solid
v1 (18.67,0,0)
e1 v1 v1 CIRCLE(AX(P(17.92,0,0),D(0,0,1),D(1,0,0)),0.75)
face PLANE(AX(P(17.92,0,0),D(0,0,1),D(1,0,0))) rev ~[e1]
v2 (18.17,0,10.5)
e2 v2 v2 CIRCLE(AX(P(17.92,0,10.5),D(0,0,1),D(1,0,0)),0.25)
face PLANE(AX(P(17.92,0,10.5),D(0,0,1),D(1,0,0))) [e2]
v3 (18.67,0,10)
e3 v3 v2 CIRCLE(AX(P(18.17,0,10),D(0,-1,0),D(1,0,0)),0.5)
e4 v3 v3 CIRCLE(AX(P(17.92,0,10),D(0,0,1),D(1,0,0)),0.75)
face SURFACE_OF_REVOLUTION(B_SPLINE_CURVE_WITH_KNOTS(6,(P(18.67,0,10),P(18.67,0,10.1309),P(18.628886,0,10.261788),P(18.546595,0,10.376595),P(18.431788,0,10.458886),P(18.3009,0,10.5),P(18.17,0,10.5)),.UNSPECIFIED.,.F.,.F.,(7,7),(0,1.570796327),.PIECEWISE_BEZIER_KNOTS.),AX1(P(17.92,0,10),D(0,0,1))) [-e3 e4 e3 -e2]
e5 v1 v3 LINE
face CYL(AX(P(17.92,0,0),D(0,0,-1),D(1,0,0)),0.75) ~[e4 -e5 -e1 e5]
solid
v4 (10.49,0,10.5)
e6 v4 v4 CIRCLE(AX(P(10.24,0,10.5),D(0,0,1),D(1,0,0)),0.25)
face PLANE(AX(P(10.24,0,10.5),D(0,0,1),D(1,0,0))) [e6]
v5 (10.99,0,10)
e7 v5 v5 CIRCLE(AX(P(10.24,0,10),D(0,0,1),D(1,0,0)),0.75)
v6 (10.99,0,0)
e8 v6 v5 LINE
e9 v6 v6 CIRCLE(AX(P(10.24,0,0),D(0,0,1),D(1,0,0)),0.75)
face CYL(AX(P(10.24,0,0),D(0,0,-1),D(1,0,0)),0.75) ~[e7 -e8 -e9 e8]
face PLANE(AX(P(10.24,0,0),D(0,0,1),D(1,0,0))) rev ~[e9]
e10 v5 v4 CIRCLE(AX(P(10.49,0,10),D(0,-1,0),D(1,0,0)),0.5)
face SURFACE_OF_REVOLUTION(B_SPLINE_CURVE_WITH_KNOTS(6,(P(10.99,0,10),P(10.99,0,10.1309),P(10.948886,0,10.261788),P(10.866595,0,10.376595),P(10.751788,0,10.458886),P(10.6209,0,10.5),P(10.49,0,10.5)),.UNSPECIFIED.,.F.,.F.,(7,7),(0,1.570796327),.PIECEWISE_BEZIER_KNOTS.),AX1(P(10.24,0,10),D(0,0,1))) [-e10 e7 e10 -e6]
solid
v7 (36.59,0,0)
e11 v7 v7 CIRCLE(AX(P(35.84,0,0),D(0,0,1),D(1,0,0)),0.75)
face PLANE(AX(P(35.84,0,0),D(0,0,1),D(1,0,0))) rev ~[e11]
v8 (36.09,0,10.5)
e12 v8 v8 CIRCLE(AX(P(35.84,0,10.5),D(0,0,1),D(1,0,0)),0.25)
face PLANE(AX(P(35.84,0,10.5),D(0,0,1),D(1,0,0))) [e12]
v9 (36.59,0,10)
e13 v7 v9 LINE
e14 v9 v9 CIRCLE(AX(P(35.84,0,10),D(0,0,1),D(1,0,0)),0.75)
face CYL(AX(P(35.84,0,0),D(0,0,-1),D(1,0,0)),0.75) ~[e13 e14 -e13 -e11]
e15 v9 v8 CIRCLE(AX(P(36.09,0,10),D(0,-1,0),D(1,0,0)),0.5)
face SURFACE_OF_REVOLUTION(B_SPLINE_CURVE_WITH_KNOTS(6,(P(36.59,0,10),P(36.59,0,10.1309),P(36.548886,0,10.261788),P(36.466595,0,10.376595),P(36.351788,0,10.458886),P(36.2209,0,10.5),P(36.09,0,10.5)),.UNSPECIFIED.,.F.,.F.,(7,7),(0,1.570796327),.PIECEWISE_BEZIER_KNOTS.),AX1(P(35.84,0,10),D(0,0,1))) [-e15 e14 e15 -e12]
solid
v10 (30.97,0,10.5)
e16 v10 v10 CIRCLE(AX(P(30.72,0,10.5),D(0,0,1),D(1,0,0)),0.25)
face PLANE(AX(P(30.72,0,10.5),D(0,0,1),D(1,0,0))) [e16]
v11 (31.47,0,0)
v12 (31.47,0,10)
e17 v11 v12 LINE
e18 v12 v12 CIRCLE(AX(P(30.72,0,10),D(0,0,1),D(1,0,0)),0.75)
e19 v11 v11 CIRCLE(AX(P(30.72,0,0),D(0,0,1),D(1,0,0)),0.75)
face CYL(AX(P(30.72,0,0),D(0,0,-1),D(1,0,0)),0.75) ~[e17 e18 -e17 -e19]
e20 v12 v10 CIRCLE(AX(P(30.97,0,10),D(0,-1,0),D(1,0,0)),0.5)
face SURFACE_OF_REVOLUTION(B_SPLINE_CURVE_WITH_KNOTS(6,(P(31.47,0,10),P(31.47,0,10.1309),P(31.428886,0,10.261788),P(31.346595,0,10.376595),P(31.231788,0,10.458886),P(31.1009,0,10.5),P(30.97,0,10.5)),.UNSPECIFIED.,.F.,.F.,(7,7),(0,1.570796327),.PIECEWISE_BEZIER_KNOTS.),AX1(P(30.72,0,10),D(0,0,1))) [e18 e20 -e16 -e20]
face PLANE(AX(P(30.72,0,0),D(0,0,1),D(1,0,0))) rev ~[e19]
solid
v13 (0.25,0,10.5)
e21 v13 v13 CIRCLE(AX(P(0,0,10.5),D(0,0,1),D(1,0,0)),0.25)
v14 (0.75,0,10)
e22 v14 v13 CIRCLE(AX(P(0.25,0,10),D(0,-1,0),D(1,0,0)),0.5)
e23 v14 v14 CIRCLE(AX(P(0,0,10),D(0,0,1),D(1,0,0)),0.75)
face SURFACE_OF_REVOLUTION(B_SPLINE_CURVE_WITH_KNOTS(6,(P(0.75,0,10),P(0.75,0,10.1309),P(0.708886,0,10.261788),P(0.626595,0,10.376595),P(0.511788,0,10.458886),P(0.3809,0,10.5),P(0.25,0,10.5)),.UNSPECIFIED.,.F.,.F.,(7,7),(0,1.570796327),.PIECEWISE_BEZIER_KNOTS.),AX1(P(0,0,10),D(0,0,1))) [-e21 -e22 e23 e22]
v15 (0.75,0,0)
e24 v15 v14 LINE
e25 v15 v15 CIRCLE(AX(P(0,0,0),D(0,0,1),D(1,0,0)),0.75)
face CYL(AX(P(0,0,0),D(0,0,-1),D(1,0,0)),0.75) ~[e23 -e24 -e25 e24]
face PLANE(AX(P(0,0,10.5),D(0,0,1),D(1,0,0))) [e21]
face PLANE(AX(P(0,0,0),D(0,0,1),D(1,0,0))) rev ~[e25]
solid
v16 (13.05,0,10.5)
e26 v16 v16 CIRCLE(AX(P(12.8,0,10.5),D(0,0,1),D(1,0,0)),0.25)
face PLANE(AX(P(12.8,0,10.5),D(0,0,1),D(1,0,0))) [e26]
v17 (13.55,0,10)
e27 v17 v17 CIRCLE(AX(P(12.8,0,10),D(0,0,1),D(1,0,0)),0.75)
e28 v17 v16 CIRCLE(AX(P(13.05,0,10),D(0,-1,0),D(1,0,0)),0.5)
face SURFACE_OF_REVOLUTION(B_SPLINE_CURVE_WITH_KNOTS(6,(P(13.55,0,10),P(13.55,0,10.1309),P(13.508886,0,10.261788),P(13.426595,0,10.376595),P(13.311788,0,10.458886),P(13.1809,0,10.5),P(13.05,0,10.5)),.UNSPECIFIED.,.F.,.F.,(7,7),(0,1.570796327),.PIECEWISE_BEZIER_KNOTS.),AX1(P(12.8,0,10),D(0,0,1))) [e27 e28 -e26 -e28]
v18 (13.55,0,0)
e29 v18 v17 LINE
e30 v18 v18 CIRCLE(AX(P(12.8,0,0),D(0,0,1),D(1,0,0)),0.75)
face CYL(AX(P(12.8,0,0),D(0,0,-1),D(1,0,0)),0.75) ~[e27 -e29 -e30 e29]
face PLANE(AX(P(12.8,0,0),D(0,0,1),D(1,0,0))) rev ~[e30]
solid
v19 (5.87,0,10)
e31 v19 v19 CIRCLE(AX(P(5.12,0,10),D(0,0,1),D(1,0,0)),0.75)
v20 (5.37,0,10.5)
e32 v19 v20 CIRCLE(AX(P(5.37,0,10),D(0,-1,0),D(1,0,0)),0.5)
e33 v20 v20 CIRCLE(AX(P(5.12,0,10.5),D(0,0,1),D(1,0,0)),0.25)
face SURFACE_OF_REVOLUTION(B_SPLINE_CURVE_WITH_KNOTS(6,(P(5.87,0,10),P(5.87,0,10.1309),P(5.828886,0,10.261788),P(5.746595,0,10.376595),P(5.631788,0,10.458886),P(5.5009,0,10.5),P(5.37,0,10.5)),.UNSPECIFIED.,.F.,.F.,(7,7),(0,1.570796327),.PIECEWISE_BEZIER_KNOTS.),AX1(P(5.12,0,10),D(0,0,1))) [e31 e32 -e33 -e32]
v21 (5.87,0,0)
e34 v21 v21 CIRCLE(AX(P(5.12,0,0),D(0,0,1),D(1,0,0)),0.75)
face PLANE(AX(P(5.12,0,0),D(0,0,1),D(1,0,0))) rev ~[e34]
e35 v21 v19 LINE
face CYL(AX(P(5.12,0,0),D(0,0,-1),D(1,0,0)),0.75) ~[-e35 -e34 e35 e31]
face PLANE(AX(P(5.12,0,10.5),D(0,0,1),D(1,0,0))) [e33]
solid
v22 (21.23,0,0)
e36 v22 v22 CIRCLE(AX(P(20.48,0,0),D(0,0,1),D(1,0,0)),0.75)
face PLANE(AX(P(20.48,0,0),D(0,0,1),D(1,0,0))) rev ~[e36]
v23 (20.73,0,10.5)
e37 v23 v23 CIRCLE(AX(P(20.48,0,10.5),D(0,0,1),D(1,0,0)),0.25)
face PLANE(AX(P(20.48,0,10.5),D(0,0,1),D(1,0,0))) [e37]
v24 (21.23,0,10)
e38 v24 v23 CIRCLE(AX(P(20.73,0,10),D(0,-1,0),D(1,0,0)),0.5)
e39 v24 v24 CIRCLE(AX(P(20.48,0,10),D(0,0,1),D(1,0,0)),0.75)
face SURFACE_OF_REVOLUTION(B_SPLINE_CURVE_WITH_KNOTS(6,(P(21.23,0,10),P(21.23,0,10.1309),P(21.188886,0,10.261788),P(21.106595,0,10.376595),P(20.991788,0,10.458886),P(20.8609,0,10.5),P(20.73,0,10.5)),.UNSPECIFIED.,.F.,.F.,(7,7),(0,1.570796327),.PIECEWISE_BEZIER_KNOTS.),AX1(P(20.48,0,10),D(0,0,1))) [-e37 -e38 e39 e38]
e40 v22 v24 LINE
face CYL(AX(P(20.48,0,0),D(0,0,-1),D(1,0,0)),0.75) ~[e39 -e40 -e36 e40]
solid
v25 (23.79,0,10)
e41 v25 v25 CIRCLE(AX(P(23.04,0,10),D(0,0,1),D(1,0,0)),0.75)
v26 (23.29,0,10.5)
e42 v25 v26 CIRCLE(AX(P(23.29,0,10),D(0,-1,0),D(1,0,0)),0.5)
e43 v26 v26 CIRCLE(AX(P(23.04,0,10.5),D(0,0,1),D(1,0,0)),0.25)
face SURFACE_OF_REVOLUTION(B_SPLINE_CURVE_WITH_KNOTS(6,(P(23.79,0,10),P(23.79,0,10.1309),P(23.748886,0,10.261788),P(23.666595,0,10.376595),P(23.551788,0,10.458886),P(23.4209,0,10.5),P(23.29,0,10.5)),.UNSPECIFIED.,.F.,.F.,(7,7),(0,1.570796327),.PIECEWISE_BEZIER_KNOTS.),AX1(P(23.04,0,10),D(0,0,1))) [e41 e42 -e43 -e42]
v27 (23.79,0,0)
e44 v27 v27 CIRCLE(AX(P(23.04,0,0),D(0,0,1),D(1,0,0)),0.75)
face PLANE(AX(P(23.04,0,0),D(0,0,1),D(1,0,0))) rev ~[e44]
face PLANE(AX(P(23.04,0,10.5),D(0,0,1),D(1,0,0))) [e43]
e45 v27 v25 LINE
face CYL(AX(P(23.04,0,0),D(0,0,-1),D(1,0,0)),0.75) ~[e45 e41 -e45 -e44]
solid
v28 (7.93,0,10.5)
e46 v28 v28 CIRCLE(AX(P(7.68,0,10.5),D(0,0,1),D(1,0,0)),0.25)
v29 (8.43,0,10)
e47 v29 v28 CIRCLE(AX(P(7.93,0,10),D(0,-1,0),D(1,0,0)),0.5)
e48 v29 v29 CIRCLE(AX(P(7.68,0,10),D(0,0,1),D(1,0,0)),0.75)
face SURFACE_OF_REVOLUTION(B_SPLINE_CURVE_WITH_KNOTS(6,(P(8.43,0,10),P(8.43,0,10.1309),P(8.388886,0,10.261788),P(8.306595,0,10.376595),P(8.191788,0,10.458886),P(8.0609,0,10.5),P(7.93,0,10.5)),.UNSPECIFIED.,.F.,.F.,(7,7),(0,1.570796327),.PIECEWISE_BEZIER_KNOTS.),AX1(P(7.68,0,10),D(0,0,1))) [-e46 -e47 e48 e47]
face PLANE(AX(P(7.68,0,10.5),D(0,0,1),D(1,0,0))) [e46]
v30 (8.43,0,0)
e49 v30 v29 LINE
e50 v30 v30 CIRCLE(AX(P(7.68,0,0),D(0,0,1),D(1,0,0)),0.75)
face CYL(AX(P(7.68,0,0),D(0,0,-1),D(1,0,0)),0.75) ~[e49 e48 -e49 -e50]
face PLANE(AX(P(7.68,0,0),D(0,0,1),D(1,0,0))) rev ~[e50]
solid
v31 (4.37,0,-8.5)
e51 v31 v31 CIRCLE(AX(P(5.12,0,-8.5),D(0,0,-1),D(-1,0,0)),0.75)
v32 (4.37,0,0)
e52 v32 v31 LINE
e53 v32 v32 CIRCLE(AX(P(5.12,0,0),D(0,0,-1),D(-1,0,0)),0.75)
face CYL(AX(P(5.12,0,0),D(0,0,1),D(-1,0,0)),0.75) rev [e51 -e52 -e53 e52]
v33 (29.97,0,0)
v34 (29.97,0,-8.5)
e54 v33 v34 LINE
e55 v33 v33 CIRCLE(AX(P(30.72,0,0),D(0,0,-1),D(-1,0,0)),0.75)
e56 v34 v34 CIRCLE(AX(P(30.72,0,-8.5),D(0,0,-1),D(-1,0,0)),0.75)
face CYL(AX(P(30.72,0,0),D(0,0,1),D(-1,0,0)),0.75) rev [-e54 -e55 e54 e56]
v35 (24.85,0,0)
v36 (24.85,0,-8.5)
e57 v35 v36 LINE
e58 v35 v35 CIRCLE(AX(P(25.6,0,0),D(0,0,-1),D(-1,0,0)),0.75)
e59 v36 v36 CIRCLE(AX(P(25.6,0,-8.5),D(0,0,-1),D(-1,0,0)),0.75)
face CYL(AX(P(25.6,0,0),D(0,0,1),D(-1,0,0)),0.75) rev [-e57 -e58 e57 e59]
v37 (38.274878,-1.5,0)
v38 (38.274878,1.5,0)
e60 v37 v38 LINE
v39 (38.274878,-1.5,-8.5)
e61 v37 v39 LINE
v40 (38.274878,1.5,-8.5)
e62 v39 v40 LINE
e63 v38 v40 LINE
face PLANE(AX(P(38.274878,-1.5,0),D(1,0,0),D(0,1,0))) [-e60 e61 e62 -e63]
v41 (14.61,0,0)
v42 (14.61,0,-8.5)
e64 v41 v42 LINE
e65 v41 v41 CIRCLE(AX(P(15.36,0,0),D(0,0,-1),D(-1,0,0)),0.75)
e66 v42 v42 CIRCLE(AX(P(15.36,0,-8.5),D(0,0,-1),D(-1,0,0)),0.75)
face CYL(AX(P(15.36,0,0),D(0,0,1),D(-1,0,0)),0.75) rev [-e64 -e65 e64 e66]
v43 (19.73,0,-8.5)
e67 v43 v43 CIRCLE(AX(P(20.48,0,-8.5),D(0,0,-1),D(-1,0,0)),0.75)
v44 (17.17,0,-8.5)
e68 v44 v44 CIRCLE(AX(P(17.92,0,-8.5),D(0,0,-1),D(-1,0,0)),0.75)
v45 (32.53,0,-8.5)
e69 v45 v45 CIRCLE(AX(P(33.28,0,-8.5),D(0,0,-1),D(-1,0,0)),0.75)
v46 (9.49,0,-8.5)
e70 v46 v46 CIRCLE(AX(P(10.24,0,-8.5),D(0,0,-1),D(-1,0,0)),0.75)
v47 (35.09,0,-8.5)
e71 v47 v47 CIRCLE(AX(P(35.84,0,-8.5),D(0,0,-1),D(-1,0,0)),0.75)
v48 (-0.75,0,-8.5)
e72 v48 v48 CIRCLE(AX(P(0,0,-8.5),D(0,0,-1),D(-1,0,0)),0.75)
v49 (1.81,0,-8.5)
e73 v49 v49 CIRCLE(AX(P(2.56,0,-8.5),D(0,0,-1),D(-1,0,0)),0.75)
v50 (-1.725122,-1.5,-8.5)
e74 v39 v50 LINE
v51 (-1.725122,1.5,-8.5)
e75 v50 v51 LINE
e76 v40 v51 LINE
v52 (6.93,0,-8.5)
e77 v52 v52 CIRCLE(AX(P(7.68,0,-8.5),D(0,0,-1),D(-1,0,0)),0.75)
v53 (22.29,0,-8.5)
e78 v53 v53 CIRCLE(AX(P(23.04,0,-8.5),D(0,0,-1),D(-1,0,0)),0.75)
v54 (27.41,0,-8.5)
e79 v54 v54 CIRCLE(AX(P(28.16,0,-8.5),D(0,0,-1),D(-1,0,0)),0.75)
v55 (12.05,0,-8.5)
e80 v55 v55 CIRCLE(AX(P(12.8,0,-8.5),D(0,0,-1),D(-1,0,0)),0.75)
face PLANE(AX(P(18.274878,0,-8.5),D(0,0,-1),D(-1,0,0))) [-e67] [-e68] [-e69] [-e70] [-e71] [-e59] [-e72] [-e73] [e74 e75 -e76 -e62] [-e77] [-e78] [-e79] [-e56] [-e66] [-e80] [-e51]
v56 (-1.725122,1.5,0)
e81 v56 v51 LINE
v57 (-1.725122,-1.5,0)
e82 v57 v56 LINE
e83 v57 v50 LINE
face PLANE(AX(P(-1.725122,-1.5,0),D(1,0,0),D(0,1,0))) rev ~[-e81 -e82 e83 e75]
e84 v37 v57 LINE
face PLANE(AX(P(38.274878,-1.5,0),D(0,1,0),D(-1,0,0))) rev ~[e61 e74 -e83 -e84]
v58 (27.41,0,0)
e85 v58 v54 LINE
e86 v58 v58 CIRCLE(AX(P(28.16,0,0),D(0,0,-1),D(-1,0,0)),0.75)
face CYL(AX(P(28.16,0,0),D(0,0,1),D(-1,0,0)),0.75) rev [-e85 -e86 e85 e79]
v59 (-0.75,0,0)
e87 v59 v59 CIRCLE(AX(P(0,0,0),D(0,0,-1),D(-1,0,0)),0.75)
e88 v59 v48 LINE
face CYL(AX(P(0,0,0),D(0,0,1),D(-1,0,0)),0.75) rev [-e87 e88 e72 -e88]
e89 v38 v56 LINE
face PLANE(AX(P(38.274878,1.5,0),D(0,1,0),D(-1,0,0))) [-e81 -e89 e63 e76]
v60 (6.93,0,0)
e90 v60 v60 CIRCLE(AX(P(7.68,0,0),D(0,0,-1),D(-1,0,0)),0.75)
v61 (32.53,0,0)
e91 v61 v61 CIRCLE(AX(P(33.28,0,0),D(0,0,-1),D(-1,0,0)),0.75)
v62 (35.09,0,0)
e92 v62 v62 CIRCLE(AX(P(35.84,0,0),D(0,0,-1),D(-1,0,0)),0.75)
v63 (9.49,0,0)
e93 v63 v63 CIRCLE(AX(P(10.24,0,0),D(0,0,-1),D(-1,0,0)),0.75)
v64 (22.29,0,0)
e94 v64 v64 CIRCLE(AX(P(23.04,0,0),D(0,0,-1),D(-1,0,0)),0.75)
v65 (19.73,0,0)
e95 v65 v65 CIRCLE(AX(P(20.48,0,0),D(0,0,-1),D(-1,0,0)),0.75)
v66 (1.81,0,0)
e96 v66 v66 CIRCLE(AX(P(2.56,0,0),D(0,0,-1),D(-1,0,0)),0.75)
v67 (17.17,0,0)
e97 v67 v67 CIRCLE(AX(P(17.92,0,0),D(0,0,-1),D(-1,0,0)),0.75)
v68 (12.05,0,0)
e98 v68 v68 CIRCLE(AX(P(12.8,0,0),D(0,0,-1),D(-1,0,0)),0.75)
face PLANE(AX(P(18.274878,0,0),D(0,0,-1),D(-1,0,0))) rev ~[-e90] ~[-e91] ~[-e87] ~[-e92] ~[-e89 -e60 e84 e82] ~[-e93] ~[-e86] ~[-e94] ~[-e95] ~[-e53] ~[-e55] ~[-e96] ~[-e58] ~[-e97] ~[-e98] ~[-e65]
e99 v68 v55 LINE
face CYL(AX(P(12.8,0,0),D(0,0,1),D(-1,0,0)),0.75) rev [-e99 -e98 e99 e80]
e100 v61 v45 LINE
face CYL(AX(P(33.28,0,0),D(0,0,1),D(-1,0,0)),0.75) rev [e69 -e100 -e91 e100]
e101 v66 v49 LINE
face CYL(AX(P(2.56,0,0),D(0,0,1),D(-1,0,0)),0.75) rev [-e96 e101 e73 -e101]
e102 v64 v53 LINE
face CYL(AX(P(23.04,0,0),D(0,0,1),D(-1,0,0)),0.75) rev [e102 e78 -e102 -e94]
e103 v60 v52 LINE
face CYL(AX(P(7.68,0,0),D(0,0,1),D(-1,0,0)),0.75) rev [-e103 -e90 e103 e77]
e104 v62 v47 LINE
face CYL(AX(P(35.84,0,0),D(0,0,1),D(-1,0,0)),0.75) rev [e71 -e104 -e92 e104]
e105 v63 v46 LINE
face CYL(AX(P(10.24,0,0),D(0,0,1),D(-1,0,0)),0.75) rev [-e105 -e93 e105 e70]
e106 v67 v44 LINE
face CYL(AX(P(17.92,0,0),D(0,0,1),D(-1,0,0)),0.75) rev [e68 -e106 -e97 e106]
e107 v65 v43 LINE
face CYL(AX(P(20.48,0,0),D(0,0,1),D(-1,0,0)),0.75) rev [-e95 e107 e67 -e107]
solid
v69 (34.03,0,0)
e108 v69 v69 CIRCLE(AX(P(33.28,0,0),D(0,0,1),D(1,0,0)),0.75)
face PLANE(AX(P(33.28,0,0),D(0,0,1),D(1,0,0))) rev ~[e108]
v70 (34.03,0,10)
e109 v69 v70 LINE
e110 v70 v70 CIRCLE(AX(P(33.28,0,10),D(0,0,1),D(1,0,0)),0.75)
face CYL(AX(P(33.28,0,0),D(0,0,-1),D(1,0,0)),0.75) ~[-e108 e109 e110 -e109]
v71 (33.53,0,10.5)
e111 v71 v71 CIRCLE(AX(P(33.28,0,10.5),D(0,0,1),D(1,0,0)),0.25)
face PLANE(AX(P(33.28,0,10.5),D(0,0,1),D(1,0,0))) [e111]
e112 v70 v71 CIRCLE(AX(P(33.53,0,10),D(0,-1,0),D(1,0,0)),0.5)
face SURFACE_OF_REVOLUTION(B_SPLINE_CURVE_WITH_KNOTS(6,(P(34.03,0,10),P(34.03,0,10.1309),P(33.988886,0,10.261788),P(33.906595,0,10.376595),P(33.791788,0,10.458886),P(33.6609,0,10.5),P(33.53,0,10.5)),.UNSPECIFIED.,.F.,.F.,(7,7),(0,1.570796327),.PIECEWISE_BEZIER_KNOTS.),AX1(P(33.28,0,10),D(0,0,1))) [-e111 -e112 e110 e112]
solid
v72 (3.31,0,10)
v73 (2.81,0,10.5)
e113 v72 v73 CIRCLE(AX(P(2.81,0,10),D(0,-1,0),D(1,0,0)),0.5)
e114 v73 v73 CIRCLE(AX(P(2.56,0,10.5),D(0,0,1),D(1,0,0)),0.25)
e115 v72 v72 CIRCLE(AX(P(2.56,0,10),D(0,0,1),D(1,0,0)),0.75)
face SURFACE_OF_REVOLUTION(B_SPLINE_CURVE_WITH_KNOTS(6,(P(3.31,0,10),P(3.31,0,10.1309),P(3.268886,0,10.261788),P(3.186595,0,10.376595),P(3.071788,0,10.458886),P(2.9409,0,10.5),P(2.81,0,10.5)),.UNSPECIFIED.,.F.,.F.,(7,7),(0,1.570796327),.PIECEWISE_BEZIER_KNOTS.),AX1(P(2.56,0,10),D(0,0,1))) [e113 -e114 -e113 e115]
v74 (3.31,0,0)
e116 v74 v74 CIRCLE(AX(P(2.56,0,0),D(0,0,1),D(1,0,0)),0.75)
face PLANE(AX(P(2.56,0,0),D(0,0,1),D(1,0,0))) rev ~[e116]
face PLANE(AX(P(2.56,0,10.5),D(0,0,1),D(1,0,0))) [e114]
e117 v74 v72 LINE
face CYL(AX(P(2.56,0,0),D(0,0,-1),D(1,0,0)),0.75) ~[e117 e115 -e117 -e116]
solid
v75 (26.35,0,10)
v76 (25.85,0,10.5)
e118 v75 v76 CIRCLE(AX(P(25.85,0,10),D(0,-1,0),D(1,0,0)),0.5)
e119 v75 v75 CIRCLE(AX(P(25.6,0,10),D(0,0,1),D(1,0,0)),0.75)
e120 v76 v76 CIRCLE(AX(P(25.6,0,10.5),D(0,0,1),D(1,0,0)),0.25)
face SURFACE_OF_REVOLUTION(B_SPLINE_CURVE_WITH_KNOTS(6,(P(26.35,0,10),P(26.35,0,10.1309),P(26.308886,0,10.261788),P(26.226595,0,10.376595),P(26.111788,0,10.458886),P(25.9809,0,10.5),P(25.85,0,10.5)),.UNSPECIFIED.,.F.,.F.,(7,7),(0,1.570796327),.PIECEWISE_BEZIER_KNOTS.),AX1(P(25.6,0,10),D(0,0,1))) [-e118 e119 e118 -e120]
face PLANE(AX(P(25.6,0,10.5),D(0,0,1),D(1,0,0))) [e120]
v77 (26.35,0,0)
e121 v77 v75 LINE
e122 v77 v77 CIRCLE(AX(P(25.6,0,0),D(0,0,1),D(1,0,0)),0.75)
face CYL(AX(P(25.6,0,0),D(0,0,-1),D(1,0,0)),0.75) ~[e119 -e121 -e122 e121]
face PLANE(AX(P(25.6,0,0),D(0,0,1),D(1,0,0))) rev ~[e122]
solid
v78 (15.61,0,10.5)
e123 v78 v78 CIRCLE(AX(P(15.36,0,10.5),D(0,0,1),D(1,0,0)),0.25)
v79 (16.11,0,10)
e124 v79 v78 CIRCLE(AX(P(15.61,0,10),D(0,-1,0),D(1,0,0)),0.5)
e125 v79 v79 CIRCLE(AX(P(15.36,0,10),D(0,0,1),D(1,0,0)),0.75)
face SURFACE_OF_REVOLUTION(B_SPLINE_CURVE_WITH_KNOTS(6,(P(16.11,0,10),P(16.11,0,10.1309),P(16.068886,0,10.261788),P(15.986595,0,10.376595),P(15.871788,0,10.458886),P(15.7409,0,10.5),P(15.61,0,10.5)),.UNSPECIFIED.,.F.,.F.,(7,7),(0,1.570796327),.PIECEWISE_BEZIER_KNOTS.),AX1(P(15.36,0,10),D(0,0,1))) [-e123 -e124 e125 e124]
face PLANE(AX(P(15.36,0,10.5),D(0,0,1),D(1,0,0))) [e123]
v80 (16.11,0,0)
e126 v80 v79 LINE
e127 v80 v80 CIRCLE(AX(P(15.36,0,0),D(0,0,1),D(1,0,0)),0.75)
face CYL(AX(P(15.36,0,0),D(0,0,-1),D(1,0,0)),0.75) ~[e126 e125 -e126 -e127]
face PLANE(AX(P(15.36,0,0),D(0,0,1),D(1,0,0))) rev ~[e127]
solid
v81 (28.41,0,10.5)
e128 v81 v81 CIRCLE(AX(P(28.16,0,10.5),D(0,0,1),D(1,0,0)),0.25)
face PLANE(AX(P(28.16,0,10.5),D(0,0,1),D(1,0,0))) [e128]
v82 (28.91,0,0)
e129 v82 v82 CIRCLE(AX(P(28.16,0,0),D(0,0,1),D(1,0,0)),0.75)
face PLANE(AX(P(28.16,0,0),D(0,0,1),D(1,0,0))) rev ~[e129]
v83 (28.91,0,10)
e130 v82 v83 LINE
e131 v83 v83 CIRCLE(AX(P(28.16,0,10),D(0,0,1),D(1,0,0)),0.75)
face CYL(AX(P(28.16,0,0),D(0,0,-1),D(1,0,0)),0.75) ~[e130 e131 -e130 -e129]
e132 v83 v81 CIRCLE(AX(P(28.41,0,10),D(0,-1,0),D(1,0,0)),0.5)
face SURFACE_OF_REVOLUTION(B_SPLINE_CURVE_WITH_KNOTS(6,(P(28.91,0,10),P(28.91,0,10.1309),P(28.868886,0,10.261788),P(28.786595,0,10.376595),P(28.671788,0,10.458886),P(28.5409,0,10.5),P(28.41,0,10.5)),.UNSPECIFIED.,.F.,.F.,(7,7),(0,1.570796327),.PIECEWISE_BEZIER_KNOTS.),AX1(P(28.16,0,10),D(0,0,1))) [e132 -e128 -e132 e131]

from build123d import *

# Parameters (mm, degrees)
SKETCH1_R              = 0.75
BOSS_EXTRUDE1_DEPTH    = 10.5
BOSS_EXTRUDE1_2_DEPTH  = 10.5
BOSS_EXTRUDE1_3_DEPTH  = 10.5
BOSS_EXTRUDE1_4_DEPTH  = 10.5
BOSS_EXTRUDE1_5_DEPTH  = 10.5
BOSS_EXTRUDE1_6_DEPTH  = 10.5
BOSS_EXTRUDE1_7_DEPTH  = 10.5
BOSS_EXTRUDE1_8_DEPTH  = 10.5
BOSS_EXTRUDE1_9_DEPTH  = 10.5
BOSS_EXTRUDE1_10_DEPTH = 10.5
BOSS_EXTRUDE1_11_DEPTH = 10.5
BOSS_EXTRUDE1_12_DEPTH = 10.5
BOSS_EXTRUDE1_13_DEPTH = 10.5
BOSS_EXTRUDE1_14_DEPTH = 10.5
BOSS_EXTRUDE1_15_DEPTH = 10.5
FILLET1_R              = 0.5
SKETCH2_W              = 40
SKETCH2_H              = 3
SKETCH2_R              = 0.75
BOSS_EXTRUDE2_DEPTH    = 8.5
FILLET2_R              = 0.5
FILLET3_R              = 0.5
FILLET4_R              = 0.5
FILLET5_R              = 0.5
FILLET6_R              = 0.5
FILLET7_R              = 0.5
FILLET8_R              = 0.5
FILLET9_R              = 0.5
FILLET10_R             = 0.5
FILLET11_R             = 0.5
FILLET12_R             = 0.5
FILLET13_R             = 0.5
FILLET14_R             = 0.5
FILLET15_R             = 0.5


with BuildPart() as part:
    # Sketch1 → Boss-Extrude1 (new body)
    with BuildSketch(Plane.XY):
        Circle(SKETCH1_R)
    extrude(amount=BOSS_EXTRUDE1_DEPTH)

    # Fillet1
    fillet1_edges = [part.edges().sort_by_distance(p)[0] for p in [
        (-0.75, 0, 10.5),
    ]]
    fillet(fillet1_edges, radius=FILLET1_R)


with BuildPart() as body_2:
    # Sketch1 → Boss-Extrude1 2 (new body)
    with BuildSketch(Plane.XY):
        with Locations((2.56, 0)):
            Circle(SKETCH1_R)
    extrude(amount=BOSS_EXTRUDE1_2_DEPTH)

    # Fillet2
    fillet2_edges = [body_2.edges().sort_by_distance(p)[0] for p in [
        (1.81, 0, 10.5),
    ]]
    fillet(fillet2_edges, radius=FILLET2_R)


with BuildPart() as body_3:
    # Sketch1 → Boss-Extrude1 3 (new body)
    with BuildSketch(Plane.XY):
        with Locations((5.12, 0)):
            Circle(SKETCH1_R)
    extrude(amount=BOSS_EXTRUDE1_3_DEPTH)

    # Fillet3
    fillet3_edges = [body_3.edges().sort_by_distance(p)[0] for p in [
        (4.37, 0, 10.5),
    ]]
    fillet(fillet3_edges, radius=FILLET3_R)


with BuildPart() as body_4:
    # Sketch1 → Boss-Extrude1 4 (new body)
    with BuildSketch(Plane.XY):
        with Locations((7.68, 0)):
            Circle(SKETCH1_R)
    extrude(amount=BOSS_EXTRUDE1_4_DEPTH)

    # Fillet4
    fillet4_edges = [body_4.edges().sort_by_distance(p)[0] for p in [
        (6.93, 0, 10.5),
    ]]
    fillet(fillet4_edges, radius=FILLET4_R)


with BuildPart() as body_5:
    # Sketch1 → Boss-Extrude1 5 (new body)
    with BuildSketch(Plane.XY):
        with Locations((10.24, 0)):
            Circle(SKETCH1_R)
    extrude(amount=BOSS_EXTRUDE1_5_DEPTH)

    # Fillet5
    fillet5_edges = [body_5.edges().sort_by_distance(p)[0] for p in [
        (9.49, 0, 10.5),
    ]]
    fillet(fillet5_edges, radius=FILLET5_R)


with BuildPart() as body_6:
    # Sketch1 → Boss-Extrude1 6 (new body)
    with BuildSketch(Plane.XY):
        with Locations((12.8, 0)):
            Circle(SKETCH1_R)
    extrude(amount=BOSS_EXTRUDE1_6_DEPTH)

    # Fillet6
    fillet6_edges = [body_6.edges().sort_by_distance(p)[0] for p in [
        (12.05, 0, 10.5),
    ]]
    fillet(fillet6_edges, radius=FILLET6_R)


with BuildPart() as body_7:
    # Sketch1 → Boss-Extrude1 7 (new body)
    with BuildSketch(Plane.XY):
        with Locations((15.36, 0)):
            Circle(SKETCH1_R)
    extrude(amount=BOSS_EXTRUDE1_7_DEPTH)

    # Fillet7
    fillet7_edges = [body_7.edges().sort_by_distance(p)[0] for p in [
        (14.61, 0, 10.5),
    ]]
    fillet(fillet7_edges, radius=FILLET7_R)


with BuildPart() as body_8:
    # Sketch1 → Boss-Extrude1 8 (new body)
    with BuildSketch(Plane.XY):
        with Locations((17.92, 0)):
            Circle(SKETCH1_R)
    extrude(amount=BOSS_EXTRUDE1_8_DEPTH)

    # Fillet8
    fillet8_edges = [body_8.edges().sort_by_distance(p)[0] for p in [
        (17.17, 0, 10.5),
    ]]
    fillet(fillet8_edges, radius=FILLET8_R)


with BuildPart() as body_9:
    # Sketch1 → Boss-Extrude1 9 (new body)
    with BuildSketch(Plane.XY):
        with Locations((20.48, 0)):
            Circle(SKETCH1_R)
    extrude(amount=BOSS_EXTRUDE1_9_DEPTH)

    # Fillet9
    fillet9_edges = [body_9.edges().sort_by_distance(p)[0] for p in [
        (19.73, 0, 10.5),
    ]]
    fillet(fillet9_edges, radius=FILLET9_R)


with BuildPart() as body_10:
    # Sketch1 → Boss-Extrude1 10 (new body)
    with BuildSketch(Plane.XY):
        with Locations((23.04, 0)):
            Circle(SKETCH1_R)
    extrude(amount=BOSS_EXTRUDE1_10_DEPTH)

    # Fillet10
    fillet10_edges = [body_10.edges().sort_by_distance(p)[0] for p in [
        (22.29, 0, 10.5),
    ]]
    fillet(fillet10_edges, radius=FILLET10_R)


with BuildPart() as body_11:
    # Sketch1 → Boss-Extrude1 11 (new body)
    with BuildSketch(Plane.XY):
        with Locations((25.6, 0)):
            Circle(SKETCH1_R)
    extrude(amount=BOSS_EXTRUDE1_11_DEPTH)

    # Fillet11
    fillet11_edges = [body_11.edges().sort_by_distance(p)[0] for p in [
        (24.85, 0, 10.5),
    ]]
    fillet(fillet11_edges, radius=FILLET11_R)


with BuildPart() as body_12:
    # Sketch1 → Boss-Extrude1 12 (new body)
    with BuildSketch(Plane.XY):
        with Locations((28.16, 0)):
            Circle(SKETCH1_R)
    extrude(amount=BOSS_EXTRUDE1_12_DEPTH)

    # Fillet12
    fillet12_edges = [body_12.edges().sort_by_distance(p)[0] for p in [
        (27.41, 0, 10.5),
    ]]
    fillet(fillet12_edges, radius=FILLET12_R)


with BuildPart() as body_13:
    # Sketch1 → Boss-Extrude1 13 (new body)
    with BuildSketch(Plane.XY):
        with Locations((30.72, 0)):
            Circle(SKETCH1_R)
    extrude(amount=BOSS_EXTRUDE1_13_DEPTH)

    # Fillet13
    fillet13_edges = [body_13.edges().sort_by_distance(p)[0] for p in [
        (29.97, 0, 10.5),
    ]]
    fillet(fillet13_edges, radius=FILLET13_R)


with BuildPart() as body_14:
    # Sketch1 → Boss-Extrude1 14 (new body)
    with BuildSketch(Plane.XY):
        with Locations((33.28, 0)):
            Circle(SKETCH1_R)
    extrude(amount=BOSS_EXTRUDE1_14_DEPTH)

    # Fillet14
    fillet14_edges = [body_14.edges().sort_by_distance(p)[0] for p in [
        (32.53, 0, 10.5),
    ]]
    fillet(fillet14_edges, radius=FILLET14_R)


with BuildPart() as body_15:
    # Sketch1 → Boss-Extrude1 15 (new body)
    with BuildSketch(Plane.XY):
        with Locations((35.84, 0)):
            Circle(SKETCH1_R)
    extrude(amount=BOSS_EXTRUDE1_15_DEPTH)

    # Fillet15
    fillet15_edges = [body_15.edges().sort_by_distance(p)[0] for p in [
        (35.09, 0, 10.5),
    ]]
    fillet(fillet15_edges, radius=FILLET15_R)


with BuildPart() as body_16:
    # Sketch2 → Boss-Extrude2 (new body)
    with BuildSketch(Plane(origin=(0, 0, 0), x_dir=(-1, 0, 0), z_dir=(0, 0, -1))):
        with Locations((-18.274877859, 0)):
            Rectangle(SKETCH2_W, SKETCH2_H)
        with Locations((-30.72, 0)):
            Circle(SKETCH2_R, mode=Mode.SUBTRACT)
        with Locations((-28.16, 0)):
            Circle(SKETCH2_R, mode=Mode.SUBTRACT)
        with Locations((-25.6, 0)):
            Circle(SKETCH2_R, mode=Mode.SUBTRACT)
        with Locations((-23.04, 0)):
            Circle(SKETCH2_R, mode=Mode.SUBTRACT)
        with Locations((-20.48, 0)):
            Circle(SKETCH2_R, mode=Mode.SUBTRACT)
        with Locations((-10.24, 0)):
            Circle(SKETCH2_R, mode=Mode.SUBTRACT)
        with Locations((-35.84, 0)):
            Circle(SKETCH2_R, mode=Mode.SUBTRACT)
        with Locations((-33.28, 0)):
            Circle(SKETCH2_R, mode=Mode.SUBTRACT)
        with Locations((-17.92, 0)):
            Circle(SKETCH2_R, mode=Mode.SUBTRACT)
        with Locations((-15.36, 0)):
            Circle(SKETCH2_R, mode=Mode.SUBTRACT)
        with Locations((-12.8, 0)):
            Circle(SKETCH2_R, mode=Mode.SUBTRACT)
        with Locations((-7.68, 0)):
            Circle(SKETCH2_R, mode=Mode.SUBTRACT)
        with Locations((-5.12, 0)):
            Circle(SKETCH2_R, mode=Mode.SUBTRACT)
        with Locations((-2.56, 0)):
            Circle(SKETCH2_R, mode=Mode.SUBTRACT)
        Circle(SKETCH2_R, mode=Mode.SUBTRACT)
    extrude(amount=BOSS_EXTRUDE2_DEPTH)


solid = Compound([part.part, body_2.part, body_3.part, body_4.part, body_5.part, body_6.part, body_7.part, body_8.part, body_9.part, body_10.part, body_11.part, body_12.part, body_13.part, body_14.part, body_15.part, body_16.part])
